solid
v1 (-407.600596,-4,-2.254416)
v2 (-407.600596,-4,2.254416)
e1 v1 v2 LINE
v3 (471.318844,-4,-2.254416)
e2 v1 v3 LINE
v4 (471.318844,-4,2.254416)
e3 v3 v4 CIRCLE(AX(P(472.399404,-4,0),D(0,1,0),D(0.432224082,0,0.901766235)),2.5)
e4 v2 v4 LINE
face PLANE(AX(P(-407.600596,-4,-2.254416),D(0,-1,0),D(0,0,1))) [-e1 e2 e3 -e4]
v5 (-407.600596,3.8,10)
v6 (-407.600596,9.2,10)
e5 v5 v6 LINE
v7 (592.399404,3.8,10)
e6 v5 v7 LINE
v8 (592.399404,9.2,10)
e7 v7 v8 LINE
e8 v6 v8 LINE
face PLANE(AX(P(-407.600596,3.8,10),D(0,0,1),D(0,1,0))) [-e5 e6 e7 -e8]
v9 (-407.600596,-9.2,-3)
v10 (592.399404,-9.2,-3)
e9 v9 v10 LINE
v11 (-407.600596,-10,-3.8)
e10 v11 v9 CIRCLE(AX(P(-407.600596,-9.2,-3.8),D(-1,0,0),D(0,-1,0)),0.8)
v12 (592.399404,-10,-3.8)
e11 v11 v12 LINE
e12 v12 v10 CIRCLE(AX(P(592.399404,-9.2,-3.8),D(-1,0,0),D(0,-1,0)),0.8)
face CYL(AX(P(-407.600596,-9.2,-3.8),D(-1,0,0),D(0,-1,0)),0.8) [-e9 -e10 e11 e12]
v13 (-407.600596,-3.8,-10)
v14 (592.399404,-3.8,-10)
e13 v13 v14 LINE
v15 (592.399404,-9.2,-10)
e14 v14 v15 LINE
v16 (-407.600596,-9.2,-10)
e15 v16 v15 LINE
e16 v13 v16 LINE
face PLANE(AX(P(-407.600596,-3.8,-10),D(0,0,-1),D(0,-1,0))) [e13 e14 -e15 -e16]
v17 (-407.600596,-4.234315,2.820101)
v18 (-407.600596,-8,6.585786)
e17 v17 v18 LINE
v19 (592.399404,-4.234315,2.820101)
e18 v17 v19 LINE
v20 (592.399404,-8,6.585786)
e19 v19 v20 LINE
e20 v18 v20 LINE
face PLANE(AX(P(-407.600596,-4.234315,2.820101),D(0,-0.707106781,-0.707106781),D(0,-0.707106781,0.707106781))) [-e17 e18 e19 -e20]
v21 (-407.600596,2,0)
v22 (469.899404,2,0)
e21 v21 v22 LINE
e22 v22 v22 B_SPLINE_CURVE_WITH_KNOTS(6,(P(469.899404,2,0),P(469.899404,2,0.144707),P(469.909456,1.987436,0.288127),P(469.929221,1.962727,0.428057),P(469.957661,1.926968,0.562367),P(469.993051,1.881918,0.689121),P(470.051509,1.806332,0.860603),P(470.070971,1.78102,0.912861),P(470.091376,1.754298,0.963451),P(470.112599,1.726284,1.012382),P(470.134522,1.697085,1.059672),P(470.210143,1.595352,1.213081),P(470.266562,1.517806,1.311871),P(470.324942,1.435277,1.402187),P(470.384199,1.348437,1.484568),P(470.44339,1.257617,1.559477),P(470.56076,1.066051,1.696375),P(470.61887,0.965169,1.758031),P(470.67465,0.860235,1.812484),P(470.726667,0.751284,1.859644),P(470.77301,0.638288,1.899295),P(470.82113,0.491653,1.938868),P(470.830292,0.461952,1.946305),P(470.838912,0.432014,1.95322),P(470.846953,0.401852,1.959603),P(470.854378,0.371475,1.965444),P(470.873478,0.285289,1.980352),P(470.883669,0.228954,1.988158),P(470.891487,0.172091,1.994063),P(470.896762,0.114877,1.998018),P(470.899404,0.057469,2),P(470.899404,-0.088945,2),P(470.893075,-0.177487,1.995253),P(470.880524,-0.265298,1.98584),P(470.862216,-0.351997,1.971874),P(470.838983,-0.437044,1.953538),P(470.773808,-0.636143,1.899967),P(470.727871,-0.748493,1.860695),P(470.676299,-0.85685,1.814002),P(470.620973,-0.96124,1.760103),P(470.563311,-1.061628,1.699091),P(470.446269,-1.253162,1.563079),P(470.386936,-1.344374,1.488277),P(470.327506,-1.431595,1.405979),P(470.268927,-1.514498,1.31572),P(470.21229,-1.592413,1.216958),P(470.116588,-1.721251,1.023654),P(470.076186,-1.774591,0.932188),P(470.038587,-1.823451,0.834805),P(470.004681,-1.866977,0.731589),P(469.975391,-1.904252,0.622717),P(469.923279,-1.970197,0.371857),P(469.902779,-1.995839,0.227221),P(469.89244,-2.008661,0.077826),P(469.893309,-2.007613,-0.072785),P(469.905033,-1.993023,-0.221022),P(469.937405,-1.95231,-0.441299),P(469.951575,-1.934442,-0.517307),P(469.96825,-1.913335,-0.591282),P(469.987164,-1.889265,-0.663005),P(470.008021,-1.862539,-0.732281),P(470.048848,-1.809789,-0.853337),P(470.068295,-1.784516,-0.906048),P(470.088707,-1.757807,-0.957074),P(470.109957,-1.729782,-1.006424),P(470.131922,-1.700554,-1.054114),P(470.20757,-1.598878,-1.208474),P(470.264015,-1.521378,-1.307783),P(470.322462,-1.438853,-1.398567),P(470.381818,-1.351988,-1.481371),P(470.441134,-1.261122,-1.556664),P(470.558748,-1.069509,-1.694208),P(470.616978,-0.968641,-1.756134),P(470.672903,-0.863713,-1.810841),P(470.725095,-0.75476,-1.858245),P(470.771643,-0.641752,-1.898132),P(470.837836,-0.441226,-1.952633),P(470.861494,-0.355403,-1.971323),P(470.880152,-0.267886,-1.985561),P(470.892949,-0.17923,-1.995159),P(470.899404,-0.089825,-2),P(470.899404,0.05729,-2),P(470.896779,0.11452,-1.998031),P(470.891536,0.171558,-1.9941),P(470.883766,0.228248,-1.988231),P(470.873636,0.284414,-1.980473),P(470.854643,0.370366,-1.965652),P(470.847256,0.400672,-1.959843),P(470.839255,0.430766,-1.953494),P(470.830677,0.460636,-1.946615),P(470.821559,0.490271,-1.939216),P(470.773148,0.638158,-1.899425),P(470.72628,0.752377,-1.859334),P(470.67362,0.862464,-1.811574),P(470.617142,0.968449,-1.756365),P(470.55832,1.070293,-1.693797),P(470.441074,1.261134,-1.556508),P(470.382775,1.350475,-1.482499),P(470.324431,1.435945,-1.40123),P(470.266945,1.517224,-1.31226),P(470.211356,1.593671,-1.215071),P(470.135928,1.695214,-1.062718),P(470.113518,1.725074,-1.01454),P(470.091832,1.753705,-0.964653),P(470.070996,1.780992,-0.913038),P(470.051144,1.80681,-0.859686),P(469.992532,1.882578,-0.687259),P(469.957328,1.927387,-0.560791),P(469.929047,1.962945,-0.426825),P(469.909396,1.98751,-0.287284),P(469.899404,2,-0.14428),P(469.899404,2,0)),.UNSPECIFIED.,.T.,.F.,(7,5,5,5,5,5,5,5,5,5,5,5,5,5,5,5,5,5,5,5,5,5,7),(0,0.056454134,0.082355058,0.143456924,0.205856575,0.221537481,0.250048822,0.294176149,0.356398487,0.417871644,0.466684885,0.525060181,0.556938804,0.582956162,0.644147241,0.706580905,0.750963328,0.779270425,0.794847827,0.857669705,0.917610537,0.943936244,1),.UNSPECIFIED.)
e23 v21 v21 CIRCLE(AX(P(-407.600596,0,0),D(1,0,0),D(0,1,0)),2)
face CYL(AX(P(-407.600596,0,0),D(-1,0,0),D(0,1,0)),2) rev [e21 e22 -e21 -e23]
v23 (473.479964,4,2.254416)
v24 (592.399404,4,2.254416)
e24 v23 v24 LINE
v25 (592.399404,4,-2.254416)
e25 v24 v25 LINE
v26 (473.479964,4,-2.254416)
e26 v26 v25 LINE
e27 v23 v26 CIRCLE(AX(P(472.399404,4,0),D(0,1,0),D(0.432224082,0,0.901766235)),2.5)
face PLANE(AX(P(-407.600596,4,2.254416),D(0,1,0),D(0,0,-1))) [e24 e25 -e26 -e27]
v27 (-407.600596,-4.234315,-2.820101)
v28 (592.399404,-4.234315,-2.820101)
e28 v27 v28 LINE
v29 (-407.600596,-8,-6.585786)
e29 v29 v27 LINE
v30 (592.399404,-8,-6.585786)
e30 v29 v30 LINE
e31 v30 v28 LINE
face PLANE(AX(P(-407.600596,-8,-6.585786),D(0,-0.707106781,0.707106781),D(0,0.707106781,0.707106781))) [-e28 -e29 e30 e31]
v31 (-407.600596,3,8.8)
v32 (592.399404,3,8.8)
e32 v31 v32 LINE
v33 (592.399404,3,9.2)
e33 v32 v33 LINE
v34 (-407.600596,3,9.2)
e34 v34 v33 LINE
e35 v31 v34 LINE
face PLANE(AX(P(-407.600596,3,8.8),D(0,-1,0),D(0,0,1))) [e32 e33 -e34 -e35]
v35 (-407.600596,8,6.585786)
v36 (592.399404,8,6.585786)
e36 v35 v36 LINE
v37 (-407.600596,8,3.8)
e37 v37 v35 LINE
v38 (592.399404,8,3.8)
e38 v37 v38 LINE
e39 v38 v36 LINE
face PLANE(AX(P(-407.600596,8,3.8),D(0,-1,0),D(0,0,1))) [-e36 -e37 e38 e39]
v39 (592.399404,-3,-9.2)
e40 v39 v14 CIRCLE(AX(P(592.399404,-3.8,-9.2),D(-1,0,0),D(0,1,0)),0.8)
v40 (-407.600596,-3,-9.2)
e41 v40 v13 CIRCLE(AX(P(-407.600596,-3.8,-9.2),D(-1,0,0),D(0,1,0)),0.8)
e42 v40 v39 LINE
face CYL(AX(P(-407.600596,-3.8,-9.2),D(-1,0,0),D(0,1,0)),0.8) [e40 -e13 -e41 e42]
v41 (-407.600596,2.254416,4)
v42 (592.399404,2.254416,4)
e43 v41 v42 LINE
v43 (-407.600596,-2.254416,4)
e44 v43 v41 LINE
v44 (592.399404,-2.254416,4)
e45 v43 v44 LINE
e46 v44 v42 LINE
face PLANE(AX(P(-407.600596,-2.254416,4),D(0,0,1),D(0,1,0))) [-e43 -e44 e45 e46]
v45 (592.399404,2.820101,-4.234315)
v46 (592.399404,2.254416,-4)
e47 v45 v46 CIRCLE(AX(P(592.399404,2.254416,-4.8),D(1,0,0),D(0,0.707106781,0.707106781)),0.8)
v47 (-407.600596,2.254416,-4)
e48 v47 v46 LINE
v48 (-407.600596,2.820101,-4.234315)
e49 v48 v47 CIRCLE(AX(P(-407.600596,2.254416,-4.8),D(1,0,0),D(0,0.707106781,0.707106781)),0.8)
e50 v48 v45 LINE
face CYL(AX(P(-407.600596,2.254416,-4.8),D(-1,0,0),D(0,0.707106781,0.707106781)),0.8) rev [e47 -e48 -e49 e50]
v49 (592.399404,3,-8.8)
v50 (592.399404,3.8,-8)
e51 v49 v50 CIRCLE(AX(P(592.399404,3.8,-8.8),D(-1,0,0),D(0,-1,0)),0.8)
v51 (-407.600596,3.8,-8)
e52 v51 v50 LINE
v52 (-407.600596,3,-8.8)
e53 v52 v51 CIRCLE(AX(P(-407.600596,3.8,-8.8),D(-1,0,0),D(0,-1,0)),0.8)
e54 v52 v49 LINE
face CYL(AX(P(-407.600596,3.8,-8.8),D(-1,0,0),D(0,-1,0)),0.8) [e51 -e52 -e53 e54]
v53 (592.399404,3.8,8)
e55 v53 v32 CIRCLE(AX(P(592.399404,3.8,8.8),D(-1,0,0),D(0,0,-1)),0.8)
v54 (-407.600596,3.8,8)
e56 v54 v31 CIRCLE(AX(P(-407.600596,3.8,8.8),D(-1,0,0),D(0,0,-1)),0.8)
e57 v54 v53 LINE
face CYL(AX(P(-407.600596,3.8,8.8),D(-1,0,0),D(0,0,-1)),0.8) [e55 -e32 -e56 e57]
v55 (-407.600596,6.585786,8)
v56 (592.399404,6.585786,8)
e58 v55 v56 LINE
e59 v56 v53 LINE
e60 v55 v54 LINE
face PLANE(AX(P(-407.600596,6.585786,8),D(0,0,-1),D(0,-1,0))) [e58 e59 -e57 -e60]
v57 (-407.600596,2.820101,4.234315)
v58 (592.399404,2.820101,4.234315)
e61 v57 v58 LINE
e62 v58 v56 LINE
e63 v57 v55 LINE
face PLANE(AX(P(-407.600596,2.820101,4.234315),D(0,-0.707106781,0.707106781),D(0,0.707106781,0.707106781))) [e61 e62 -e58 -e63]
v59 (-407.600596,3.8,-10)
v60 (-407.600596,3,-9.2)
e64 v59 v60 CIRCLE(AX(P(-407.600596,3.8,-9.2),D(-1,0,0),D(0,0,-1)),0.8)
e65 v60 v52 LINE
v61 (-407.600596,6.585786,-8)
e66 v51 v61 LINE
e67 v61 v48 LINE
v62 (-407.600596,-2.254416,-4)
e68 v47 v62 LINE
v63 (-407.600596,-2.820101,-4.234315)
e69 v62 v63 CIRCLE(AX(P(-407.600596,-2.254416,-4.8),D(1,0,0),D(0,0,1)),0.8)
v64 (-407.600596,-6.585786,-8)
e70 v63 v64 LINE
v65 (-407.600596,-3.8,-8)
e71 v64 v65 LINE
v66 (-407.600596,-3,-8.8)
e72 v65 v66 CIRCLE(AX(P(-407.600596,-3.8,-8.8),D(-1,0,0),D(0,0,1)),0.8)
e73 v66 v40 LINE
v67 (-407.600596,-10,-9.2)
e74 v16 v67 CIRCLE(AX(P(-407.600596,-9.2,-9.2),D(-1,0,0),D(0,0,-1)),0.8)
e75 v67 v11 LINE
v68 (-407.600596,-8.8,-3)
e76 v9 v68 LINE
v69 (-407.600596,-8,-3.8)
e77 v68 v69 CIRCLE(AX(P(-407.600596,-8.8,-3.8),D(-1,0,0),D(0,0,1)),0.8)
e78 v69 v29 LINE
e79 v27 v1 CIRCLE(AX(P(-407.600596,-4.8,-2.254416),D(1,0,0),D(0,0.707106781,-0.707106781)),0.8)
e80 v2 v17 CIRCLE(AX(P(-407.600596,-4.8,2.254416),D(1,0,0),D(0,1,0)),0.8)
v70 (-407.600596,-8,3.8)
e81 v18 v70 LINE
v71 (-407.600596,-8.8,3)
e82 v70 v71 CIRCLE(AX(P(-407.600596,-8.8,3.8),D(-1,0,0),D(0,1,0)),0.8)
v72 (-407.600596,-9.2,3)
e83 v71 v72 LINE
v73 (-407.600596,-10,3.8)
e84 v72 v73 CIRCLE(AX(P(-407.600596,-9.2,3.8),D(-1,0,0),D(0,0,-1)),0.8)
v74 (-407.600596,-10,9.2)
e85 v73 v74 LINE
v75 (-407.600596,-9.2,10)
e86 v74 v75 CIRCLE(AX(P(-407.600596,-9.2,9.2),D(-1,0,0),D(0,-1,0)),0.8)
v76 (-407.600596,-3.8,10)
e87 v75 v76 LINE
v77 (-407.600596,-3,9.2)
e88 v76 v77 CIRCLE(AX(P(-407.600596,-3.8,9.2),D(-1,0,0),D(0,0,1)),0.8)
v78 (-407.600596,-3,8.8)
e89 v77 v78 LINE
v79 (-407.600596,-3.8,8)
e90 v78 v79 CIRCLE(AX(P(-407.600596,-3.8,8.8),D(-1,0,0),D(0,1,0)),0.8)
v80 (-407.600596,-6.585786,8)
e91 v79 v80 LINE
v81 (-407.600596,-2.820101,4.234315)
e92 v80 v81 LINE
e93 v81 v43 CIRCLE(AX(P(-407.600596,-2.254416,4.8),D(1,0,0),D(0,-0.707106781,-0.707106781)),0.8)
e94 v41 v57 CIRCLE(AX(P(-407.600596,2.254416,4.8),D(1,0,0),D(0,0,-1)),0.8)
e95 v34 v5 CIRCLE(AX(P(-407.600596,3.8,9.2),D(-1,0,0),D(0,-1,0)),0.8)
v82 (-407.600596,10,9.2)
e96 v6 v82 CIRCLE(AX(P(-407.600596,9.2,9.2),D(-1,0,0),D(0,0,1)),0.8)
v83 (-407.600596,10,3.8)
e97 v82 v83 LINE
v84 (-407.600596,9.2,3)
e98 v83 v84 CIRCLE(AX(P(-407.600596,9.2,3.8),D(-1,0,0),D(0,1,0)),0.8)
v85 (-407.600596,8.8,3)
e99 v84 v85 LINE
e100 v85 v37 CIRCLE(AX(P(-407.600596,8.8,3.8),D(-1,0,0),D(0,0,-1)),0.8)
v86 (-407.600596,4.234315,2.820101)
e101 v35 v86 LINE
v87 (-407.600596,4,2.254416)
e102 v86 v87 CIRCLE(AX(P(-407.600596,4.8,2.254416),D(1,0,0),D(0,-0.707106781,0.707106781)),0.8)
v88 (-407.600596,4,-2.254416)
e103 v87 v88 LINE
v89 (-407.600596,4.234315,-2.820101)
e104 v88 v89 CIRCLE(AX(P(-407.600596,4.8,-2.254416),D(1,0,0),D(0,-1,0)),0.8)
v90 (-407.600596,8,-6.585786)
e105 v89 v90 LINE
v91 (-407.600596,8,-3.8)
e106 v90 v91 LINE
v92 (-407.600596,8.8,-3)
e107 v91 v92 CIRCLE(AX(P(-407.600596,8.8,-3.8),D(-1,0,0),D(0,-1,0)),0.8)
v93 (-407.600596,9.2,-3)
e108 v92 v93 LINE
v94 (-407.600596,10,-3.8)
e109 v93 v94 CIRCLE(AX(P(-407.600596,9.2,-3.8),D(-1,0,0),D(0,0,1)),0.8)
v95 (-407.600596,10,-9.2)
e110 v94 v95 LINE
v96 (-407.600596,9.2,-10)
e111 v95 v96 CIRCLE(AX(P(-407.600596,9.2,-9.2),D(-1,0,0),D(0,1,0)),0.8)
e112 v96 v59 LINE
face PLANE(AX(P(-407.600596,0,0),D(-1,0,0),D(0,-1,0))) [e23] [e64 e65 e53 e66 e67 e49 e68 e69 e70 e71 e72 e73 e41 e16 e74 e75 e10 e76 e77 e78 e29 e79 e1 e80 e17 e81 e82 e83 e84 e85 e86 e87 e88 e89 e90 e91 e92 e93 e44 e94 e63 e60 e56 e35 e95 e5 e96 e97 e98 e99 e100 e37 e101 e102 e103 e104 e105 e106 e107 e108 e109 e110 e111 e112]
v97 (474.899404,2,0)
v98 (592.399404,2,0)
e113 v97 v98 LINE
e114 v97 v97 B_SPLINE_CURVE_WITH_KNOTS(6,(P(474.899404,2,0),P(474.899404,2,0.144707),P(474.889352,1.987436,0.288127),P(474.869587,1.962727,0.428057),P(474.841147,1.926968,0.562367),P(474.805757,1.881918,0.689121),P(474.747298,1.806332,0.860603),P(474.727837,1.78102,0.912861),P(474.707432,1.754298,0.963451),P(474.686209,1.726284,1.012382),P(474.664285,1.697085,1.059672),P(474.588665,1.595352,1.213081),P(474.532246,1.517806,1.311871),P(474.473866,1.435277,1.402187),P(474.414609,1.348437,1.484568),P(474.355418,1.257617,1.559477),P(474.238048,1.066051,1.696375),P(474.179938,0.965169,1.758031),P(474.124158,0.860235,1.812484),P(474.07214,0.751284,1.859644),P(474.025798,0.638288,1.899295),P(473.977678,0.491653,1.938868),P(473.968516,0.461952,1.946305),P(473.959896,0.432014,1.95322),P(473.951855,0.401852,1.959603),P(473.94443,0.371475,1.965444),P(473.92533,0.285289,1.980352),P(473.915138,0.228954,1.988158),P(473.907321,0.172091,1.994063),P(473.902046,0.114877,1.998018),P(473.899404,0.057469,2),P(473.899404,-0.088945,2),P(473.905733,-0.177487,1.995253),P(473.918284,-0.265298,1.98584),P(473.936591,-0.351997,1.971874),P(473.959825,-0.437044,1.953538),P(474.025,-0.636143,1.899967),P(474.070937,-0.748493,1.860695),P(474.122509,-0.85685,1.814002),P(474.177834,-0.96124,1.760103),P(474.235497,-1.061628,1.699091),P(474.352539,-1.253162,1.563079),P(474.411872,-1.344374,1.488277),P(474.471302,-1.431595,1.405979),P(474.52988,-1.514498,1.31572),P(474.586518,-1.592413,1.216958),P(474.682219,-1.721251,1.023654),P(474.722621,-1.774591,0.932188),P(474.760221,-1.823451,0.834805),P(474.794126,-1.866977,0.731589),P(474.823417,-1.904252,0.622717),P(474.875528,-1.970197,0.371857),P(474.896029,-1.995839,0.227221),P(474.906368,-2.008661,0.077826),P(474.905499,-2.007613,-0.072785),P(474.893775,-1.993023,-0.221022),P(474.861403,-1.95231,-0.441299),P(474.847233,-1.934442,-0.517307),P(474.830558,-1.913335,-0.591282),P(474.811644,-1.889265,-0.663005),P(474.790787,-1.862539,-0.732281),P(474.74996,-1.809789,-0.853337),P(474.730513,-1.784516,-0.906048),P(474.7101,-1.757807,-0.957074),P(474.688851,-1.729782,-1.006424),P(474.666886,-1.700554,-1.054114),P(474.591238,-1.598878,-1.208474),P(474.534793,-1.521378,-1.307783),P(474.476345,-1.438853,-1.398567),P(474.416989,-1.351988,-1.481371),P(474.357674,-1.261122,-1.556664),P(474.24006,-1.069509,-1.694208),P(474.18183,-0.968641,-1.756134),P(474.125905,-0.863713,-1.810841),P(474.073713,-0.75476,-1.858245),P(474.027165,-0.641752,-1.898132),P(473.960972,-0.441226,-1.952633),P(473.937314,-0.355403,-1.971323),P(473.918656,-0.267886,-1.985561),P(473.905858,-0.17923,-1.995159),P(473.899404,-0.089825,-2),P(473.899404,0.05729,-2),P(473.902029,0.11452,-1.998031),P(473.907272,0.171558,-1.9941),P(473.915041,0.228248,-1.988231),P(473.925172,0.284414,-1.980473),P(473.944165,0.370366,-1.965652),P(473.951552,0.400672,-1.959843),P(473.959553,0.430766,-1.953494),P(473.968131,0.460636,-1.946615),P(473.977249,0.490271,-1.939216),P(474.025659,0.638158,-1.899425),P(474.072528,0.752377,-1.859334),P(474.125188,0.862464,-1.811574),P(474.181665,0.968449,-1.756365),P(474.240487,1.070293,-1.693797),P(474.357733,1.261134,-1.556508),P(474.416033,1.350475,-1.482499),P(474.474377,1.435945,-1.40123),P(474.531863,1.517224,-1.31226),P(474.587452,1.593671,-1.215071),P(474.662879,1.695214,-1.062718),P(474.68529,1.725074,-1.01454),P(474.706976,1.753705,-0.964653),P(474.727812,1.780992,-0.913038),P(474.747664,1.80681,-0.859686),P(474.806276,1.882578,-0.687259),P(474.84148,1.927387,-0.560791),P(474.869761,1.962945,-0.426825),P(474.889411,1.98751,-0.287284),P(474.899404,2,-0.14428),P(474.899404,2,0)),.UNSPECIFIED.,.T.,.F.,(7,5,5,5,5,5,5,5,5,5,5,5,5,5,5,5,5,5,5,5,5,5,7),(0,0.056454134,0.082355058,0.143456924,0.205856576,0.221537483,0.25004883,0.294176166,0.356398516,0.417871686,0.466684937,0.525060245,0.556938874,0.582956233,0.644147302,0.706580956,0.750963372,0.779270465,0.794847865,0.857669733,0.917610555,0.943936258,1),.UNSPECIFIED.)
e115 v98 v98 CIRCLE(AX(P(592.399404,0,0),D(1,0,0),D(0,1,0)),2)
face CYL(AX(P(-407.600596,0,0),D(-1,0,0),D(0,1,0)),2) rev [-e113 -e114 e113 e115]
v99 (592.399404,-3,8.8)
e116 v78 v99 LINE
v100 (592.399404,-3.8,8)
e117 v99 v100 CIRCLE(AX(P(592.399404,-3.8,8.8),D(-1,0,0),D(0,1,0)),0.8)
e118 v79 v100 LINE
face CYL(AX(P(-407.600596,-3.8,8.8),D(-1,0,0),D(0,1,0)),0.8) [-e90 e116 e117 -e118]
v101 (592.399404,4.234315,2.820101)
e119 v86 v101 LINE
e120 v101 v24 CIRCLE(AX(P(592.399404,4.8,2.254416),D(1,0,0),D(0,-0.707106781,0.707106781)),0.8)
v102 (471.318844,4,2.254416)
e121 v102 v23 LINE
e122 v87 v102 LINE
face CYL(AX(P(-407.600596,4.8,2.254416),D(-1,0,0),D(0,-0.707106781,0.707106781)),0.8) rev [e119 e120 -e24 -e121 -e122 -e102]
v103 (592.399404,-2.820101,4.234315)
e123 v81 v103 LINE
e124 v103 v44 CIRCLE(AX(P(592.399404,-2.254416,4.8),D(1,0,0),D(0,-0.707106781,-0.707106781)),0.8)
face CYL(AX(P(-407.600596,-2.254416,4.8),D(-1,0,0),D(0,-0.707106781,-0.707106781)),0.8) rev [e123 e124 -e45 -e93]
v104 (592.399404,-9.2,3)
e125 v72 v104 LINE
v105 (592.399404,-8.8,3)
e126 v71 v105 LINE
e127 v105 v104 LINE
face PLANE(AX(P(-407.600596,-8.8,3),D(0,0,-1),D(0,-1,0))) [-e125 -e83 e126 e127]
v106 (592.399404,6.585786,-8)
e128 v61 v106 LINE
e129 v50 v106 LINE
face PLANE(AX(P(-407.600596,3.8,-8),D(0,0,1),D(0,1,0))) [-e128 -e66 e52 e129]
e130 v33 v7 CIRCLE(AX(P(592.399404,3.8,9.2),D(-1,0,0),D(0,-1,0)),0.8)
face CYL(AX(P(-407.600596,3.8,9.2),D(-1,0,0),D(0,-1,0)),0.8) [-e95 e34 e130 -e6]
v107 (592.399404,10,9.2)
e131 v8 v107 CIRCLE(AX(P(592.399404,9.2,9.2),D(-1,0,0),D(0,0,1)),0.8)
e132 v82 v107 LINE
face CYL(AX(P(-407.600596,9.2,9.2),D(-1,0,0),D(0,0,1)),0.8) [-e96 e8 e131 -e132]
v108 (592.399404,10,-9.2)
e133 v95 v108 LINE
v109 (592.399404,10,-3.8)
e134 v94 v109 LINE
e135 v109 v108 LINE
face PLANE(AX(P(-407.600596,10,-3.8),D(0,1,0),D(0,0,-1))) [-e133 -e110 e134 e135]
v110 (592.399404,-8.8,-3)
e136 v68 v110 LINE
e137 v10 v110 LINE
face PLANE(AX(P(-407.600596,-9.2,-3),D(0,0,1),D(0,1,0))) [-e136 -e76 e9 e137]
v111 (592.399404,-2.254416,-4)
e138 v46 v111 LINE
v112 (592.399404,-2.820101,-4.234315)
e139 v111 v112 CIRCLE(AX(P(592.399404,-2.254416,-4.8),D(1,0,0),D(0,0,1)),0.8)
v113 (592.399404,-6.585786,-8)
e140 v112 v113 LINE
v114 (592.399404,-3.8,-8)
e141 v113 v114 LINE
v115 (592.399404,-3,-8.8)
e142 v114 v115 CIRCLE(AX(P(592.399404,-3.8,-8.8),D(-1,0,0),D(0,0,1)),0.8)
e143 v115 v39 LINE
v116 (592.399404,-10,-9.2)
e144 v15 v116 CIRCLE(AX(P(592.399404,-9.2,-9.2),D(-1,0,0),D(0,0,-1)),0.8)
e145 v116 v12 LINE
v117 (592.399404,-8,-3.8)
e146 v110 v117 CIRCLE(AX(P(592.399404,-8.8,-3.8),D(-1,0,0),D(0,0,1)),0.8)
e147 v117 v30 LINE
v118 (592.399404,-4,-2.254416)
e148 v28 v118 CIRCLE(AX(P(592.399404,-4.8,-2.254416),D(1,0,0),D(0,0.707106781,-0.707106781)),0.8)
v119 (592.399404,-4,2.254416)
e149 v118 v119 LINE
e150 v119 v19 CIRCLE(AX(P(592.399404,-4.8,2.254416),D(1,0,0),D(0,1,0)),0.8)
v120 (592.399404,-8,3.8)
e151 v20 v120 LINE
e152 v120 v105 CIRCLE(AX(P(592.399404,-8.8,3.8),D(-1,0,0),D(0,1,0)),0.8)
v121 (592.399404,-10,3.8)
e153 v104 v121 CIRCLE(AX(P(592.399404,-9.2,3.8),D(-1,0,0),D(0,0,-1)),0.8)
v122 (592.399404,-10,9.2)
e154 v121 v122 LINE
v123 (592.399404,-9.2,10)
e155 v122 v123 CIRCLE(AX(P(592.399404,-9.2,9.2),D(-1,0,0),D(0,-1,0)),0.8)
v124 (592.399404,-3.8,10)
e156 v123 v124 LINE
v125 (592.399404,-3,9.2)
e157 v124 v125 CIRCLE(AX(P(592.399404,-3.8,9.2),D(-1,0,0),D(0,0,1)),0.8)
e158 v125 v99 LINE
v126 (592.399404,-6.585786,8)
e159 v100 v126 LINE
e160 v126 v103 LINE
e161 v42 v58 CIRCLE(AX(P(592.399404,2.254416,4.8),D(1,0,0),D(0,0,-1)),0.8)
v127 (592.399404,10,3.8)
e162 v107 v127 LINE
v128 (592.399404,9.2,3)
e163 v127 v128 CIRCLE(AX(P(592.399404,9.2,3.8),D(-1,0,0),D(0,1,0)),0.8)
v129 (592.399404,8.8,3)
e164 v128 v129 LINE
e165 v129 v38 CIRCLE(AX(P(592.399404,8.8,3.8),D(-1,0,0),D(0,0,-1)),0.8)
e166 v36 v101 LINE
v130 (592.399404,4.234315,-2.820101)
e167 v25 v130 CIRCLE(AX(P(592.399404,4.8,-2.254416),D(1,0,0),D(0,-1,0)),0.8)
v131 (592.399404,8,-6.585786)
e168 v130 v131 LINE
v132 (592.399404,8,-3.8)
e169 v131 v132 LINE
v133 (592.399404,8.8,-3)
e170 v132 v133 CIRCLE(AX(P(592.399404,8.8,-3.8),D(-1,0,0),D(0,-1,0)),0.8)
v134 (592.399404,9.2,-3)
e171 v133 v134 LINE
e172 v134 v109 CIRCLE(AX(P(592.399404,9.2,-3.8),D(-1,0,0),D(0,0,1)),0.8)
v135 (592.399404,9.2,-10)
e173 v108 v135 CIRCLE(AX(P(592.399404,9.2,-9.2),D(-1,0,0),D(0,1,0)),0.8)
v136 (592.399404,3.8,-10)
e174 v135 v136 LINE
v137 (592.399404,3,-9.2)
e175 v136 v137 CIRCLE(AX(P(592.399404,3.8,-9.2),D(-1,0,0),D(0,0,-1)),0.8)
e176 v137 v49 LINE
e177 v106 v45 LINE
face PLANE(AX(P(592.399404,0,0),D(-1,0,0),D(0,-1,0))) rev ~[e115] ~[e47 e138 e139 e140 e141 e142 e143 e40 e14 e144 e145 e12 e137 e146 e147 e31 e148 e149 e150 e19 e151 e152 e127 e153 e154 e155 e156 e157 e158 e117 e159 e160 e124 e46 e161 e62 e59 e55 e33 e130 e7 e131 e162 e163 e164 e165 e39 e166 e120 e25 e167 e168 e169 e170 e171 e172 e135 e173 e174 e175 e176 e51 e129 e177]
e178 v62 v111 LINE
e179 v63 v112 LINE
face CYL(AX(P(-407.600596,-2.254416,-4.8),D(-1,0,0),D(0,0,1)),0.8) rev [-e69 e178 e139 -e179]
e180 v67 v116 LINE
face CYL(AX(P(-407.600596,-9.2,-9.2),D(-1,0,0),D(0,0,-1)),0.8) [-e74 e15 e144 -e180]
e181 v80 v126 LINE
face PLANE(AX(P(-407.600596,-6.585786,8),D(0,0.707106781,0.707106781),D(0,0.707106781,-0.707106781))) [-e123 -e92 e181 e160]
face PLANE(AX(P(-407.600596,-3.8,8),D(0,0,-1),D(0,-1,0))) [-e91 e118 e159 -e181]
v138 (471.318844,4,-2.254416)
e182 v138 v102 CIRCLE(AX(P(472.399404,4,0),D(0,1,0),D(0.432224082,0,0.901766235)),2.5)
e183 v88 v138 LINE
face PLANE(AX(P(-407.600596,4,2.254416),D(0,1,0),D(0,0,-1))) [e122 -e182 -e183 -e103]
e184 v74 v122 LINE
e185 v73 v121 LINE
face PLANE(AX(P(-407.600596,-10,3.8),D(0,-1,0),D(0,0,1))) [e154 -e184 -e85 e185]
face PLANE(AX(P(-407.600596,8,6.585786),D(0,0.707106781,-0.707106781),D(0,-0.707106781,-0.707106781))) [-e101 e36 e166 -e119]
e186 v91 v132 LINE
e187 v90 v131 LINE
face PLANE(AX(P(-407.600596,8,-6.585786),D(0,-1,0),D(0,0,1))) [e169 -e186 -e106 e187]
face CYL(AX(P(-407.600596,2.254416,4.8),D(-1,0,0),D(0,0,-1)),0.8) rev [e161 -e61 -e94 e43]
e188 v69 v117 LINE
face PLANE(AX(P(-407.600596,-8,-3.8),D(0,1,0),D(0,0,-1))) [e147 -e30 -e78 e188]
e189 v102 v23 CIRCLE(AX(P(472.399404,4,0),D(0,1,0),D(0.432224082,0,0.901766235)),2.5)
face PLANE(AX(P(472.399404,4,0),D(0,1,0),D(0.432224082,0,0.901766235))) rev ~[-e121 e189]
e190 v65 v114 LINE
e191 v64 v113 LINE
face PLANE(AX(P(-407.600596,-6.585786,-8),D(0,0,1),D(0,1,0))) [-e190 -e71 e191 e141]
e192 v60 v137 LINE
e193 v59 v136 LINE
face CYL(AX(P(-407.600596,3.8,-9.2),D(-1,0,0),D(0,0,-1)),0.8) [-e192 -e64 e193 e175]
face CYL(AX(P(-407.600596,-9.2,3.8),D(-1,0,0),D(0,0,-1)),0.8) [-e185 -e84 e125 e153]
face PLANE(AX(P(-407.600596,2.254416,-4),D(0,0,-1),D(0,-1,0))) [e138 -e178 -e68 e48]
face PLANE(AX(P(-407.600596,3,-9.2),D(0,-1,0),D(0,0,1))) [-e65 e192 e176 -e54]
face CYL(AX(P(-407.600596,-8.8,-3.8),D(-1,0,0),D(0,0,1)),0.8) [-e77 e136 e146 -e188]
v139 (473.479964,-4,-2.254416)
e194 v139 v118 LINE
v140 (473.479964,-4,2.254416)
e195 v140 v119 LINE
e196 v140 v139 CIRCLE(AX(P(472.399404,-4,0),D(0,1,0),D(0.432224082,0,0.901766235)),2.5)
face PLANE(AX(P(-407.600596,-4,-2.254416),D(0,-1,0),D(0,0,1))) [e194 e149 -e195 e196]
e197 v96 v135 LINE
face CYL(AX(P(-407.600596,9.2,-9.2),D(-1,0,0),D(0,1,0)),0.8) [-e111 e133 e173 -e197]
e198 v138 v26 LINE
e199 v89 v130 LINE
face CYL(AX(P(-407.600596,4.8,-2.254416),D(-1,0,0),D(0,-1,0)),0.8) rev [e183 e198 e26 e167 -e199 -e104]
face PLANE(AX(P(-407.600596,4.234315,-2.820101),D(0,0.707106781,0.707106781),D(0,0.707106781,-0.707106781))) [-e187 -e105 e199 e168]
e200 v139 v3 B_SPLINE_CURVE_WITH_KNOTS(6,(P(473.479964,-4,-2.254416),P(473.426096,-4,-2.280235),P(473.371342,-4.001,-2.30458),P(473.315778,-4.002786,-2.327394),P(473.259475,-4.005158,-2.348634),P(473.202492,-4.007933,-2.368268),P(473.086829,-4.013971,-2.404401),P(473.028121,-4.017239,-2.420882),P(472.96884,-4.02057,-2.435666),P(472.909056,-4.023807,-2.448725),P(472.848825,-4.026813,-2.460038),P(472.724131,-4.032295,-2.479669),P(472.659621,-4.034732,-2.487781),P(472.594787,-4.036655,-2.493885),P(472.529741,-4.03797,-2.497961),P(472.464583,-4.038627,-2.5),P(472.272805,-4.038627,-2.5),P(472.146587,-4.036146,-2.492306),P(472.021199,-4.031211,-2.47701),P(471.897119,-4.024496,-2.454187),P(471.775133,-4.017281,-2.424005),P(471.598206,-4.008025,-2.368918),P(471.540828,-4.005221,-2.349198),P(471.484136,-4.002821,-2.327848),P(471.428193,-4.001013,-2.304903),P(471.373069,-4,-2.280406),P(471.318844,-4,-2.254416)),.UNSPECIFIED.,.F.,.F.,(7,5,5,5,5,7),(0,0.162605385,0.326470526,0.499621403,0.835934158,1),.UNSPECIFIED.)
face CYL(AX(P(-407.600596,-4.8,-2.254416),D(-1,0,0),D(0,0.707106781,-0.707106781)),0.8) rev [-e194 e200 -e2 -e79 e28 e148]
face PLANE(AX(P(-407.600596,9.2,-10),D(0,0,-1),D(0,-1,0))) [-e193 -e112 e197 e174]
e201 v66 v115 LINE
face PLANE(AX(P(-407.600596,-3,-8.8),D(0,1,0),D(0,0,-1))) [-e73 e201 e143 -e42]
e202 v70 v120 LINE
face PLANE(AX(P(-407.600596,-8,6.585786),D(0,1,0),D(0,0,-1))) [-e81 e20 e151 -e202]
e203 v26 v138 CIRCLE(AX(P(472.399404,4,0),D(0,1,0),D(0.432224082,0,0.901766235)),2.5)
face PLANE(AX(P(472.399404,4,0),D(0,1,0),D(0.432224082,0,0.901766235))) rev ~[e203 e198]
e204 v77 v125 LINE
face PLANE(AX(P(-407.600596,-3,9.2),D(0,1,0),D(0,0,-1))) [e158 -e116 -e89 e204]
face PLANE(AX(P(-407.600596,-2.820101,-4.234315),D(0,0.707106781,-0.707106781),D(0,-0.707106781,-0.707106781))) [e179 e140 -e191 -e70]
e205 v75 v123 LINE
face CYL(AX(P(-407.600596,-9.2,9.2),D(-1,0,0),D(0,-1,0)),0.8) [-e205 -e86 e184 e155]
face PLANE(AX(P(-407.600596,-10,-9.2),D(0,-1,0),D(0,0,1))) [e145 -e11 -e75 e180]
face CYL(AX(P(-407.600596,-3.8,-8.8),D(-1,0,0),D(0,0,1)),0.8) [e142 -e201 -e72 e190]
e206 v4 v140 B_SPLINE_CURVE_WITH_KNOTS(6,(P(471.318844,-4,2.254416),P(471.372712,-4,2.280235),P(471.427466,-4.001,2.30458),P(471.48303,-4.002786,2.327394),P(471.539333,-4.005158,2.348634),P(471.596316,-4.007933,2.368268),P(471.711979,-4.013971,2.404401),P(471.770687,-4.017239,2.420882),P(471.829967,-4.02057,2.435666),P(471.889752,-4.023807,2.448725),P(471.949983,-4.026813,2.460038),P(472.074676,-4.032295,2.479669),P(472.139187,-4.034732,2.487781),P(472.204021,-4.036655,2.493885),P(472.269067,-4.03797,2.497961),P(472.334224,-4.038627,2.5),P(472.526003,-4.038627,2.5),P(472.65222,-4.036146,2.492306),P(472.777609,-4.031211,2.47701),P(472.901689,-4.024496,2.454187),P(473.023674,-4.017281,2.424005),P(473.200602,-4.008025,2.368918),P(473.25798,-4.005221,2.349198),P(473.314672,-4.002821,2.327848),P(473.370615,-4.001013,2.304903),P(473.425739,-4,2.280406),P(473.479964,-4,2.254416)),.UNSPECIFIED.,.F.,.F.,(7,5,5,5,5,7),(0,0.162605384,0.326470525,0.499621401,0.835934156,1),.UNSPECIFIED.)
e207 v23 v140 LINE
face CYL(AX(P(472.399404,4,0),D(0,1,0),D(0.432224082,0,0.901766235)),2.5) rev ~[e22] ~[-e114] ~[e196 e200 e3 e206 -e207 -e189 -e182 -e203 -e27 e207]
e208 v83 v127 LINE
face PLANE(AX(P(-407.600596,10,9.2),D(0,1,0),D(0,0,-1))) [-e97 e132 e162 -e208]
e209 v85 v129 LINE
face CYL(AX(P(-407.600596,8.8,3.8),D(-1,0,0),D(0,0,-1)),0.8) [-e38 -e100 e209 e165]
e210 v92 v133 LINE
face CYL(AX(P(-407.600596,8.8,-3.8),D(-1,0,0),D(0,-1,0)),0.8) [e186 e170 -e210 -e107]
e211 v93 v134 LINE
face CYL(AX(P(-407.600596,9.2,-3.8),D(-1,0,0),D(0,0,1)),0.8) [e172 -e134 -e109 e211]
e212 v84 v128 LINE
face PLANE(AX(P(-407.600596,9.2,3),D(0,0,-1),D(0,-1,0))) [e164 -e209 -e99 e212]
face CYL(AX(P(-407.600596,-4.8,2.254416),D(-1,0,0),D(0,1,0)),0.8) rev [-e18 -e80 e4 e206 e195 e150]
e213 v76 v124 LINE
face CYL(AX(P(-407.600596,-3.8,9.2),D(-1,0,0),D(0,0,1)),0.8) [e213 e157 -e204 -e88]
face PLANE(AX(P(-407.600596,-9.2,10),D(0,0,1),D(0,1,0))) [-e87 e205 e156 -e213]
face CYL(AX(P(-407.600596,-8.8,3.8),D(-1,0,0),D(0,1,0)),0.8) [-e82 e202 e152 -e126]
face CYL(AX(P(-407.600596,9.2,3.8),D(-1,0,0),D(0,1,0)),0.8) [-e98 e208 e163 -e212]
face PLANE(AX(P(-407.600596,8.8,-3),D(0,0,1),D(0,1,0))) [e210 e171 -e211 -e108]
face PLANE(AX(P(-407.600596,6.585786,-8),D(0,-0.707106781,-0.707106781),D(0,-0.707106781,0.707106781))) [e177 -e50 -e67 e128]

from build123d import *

# Parameters (mm, degrees)
SKETCH1_R           = 2
PROFILE_4X4_1_DEPTH = 1000
SKETCH3_R           = 2.5
CUT_EXTRUDE1_DEPTH  = 10


with BuildPart() as part:
    # Sketch1 → Profile 4X4(1) (new body)
    with BuildSketch(Plane.YZ.offset(-407.600596125)):
        with BuildLine():
            Line((-3, 9.2), (-3, 8.8))
            ThreePointArc((-3, 8.8), (-3.234314575, 8.234314575), (-3.8, 8))
            Line((-3.8, 8), (-6.585786438, 8))
            Line((-6.585786438, 8), (-2.820101013, 4.234314575))
            ThreePointArc((-2.820101013, 4.234314575), (-2.560562334, 4.060896374), (-2.254415588, 4))
            Line((-2.254415588, 4), (2.254415588, 4))
            ThreePointArc((2.254415588, 4), (2.560562334, 4.060896374), (2.820101013, 4.234314575))
            Line((2.820101013, 4.234314575), (6.585786438, 8))
            Line((6.585786438, 8), (3.8, 8))
            ThreePointArc((3.8, 8), (3.234314575, 8.234314575), (3, 8.8))
            Line((3, 8.8), (3, 9.2))
            ThreePointArc((3, 9.2), (3.234314575, 9.765685425), (3.8, 10))
            Line((3.8, 10), (9.2, 10))
            ThreePointArc((9.2, 10), (9.765685425, 9.765685425), (10, 9.2))
            Line((10, 9.2), (10, 3.8))
            ThreePointArc((10, 3.8), (9.765685425, 3.234314575), (9.2, 3))
            Line((9.2, 3), (8.8, 3))
            ThreePointArc((8.8, 3), (8.234314575, 3.234314575), (8, 3.8))
            Line((8, 3.8), (8, 6.585786438))
            Line((8, 6.585786438), (4.234314575, 2.820101013))
            ThreePointArc((4.234314575, 2.820101013), (4.060896374, 2.560562334), (4, 2.254415588))
            Line((4, 2.254415588), (4, -2.254415588))
            ThreePointArc((4, -2.254415588), (4.060896374, -2.560562334), (4.234314575, -2.820101013))
            Line((4.234314575, -2.820101013), (8, -6.585786438))
            Line((8, -6.585786438), (8, -3.8))
            ThreePointArc((8, -3.8), (8.234314575, -3.234314575), (8.8, -3))
            Line((8.8, -3), (9.2, -3))
            ThreePointArc((9.2, -3), (9.765685425, -3.234314575), (10, -3.8))
            Line((10, -3.8), (10, -9.2))
            ThreePointArc((10, -9.2), (9.765685425, -9.765685425), (9.2, -10))
            Line((9.2, -10), (3.8, -10))
            ThreePointArc((3.8, -10), (3.234314575, -9.765685425), (3, -9.2))
            Line((3, -9.2), (3, -8.8))
            ThreePointArc((3, -8.8), (3.234314575, -8.234314575), (3.8, -8))
            Line((3.8, -8), (6.585786438, -8))
            Line((6.585786438, -8), (2.820101013, -4.234314575))
            ThreePointArc((2.820101013, -4.234314575), (2.560562334, -4.060896374), (2.254415588, -4))
            Line((2.254415588, -4), (-2.254415588, -4))
            ThreePointArc((-2.254415588, -4), (-2.560562334, -4.060896374), (-2.820101013, -4.234314575))
            Line((-2.820101013, -4.234314575), (-6.585786438, -8))
            Line((-6.585786438, -8), (-3.8, -8))
            ThreePointArc((-3.8, -8), (-3.234314575, -8.234314575), (-3, -8.8))
            Line((-3, -8.8), (-3, -9.2))
            ThreePointArc((-3, -9.2), (-3.234314575, -9.765685425), (-3.8, -10))
            Line((-3.8, -10), (-9.2, -10))
            ThreePointArc((-9.2, -10), (-9.765685425, -9.765685425), (-10, -9.2))
            Line((-10, -9.2), (-10, -3.8))
            ThreePointArc((-10, -3.8), (-9.765685425, -3.234314575), (-9.2, -3))
            Line((-9.2, -3), (-8.8, -3))
            ThreePointArc((-8.8, -3), (-8.234314575, -3.234314575), (-8, -3.8))
            Line((-8, -3.8), (-8, -6.585786438))
            Line((-8, -6.585786438), (-4.234314575, -2.820101013))
            ThreePointArc((-4.234314575, -2.820101013), (-4.060896374, -2.560562334), (-4, -2.254415588))
            Line((-4, -2.254415588), (-4, 2.254415588))
            ThreePointArc((-4, 2.254415588), (-4.060896374, 2.560562334), (-4.234314575, 2.820101013))
            Line((-4.234314575, 2.820101013), (-8, 6.585786438))
            Line((-8, 6.585786438), (-8, 3.8))
            ThreePointArc((-8, 3.8), (-8.234314575, 3.234314575), (-8.8, 3))
            Line((-8.8, 3), (-9.2, 3))
            ThreePointArc((-9.2, 3), (-9.765685425, 3.234314575), (-10, 3.8))
            Line((-10, 3.8), (-10, 9.2))
            ThreePointArc((-10, 9.2), (-9.765685425, 9.765685425), (-9.2, 10))
            Line((-9.2, 10), (-3.8, 10))
            ThreePointArc((-3.8, 10), (-3.234314575, 9.765685425), (-3, 9.2))
        make_face()
        Circle(SKETCH1_R, mode=Mode.SUBTRACT)
    extrude(amount=PROFILE_4X4_1_DEPTH)

    # Sketch3 → Cut-Extrude1 (cut)
    with BuildSketch(Plane(origin=(0, 4, 0), x_dir=(1, 0, 0), z_dir=(0, 1, 0))):
        with Locations(Location((472.399403875, 0, 0), (0, 0, 295.608789007))):
            Circle(SKETCH3_R)
    extrude(amount=-CUT_EXTRUDE1_DEPTH, mode=Mode.SUBTRACT)


solid = part.part
